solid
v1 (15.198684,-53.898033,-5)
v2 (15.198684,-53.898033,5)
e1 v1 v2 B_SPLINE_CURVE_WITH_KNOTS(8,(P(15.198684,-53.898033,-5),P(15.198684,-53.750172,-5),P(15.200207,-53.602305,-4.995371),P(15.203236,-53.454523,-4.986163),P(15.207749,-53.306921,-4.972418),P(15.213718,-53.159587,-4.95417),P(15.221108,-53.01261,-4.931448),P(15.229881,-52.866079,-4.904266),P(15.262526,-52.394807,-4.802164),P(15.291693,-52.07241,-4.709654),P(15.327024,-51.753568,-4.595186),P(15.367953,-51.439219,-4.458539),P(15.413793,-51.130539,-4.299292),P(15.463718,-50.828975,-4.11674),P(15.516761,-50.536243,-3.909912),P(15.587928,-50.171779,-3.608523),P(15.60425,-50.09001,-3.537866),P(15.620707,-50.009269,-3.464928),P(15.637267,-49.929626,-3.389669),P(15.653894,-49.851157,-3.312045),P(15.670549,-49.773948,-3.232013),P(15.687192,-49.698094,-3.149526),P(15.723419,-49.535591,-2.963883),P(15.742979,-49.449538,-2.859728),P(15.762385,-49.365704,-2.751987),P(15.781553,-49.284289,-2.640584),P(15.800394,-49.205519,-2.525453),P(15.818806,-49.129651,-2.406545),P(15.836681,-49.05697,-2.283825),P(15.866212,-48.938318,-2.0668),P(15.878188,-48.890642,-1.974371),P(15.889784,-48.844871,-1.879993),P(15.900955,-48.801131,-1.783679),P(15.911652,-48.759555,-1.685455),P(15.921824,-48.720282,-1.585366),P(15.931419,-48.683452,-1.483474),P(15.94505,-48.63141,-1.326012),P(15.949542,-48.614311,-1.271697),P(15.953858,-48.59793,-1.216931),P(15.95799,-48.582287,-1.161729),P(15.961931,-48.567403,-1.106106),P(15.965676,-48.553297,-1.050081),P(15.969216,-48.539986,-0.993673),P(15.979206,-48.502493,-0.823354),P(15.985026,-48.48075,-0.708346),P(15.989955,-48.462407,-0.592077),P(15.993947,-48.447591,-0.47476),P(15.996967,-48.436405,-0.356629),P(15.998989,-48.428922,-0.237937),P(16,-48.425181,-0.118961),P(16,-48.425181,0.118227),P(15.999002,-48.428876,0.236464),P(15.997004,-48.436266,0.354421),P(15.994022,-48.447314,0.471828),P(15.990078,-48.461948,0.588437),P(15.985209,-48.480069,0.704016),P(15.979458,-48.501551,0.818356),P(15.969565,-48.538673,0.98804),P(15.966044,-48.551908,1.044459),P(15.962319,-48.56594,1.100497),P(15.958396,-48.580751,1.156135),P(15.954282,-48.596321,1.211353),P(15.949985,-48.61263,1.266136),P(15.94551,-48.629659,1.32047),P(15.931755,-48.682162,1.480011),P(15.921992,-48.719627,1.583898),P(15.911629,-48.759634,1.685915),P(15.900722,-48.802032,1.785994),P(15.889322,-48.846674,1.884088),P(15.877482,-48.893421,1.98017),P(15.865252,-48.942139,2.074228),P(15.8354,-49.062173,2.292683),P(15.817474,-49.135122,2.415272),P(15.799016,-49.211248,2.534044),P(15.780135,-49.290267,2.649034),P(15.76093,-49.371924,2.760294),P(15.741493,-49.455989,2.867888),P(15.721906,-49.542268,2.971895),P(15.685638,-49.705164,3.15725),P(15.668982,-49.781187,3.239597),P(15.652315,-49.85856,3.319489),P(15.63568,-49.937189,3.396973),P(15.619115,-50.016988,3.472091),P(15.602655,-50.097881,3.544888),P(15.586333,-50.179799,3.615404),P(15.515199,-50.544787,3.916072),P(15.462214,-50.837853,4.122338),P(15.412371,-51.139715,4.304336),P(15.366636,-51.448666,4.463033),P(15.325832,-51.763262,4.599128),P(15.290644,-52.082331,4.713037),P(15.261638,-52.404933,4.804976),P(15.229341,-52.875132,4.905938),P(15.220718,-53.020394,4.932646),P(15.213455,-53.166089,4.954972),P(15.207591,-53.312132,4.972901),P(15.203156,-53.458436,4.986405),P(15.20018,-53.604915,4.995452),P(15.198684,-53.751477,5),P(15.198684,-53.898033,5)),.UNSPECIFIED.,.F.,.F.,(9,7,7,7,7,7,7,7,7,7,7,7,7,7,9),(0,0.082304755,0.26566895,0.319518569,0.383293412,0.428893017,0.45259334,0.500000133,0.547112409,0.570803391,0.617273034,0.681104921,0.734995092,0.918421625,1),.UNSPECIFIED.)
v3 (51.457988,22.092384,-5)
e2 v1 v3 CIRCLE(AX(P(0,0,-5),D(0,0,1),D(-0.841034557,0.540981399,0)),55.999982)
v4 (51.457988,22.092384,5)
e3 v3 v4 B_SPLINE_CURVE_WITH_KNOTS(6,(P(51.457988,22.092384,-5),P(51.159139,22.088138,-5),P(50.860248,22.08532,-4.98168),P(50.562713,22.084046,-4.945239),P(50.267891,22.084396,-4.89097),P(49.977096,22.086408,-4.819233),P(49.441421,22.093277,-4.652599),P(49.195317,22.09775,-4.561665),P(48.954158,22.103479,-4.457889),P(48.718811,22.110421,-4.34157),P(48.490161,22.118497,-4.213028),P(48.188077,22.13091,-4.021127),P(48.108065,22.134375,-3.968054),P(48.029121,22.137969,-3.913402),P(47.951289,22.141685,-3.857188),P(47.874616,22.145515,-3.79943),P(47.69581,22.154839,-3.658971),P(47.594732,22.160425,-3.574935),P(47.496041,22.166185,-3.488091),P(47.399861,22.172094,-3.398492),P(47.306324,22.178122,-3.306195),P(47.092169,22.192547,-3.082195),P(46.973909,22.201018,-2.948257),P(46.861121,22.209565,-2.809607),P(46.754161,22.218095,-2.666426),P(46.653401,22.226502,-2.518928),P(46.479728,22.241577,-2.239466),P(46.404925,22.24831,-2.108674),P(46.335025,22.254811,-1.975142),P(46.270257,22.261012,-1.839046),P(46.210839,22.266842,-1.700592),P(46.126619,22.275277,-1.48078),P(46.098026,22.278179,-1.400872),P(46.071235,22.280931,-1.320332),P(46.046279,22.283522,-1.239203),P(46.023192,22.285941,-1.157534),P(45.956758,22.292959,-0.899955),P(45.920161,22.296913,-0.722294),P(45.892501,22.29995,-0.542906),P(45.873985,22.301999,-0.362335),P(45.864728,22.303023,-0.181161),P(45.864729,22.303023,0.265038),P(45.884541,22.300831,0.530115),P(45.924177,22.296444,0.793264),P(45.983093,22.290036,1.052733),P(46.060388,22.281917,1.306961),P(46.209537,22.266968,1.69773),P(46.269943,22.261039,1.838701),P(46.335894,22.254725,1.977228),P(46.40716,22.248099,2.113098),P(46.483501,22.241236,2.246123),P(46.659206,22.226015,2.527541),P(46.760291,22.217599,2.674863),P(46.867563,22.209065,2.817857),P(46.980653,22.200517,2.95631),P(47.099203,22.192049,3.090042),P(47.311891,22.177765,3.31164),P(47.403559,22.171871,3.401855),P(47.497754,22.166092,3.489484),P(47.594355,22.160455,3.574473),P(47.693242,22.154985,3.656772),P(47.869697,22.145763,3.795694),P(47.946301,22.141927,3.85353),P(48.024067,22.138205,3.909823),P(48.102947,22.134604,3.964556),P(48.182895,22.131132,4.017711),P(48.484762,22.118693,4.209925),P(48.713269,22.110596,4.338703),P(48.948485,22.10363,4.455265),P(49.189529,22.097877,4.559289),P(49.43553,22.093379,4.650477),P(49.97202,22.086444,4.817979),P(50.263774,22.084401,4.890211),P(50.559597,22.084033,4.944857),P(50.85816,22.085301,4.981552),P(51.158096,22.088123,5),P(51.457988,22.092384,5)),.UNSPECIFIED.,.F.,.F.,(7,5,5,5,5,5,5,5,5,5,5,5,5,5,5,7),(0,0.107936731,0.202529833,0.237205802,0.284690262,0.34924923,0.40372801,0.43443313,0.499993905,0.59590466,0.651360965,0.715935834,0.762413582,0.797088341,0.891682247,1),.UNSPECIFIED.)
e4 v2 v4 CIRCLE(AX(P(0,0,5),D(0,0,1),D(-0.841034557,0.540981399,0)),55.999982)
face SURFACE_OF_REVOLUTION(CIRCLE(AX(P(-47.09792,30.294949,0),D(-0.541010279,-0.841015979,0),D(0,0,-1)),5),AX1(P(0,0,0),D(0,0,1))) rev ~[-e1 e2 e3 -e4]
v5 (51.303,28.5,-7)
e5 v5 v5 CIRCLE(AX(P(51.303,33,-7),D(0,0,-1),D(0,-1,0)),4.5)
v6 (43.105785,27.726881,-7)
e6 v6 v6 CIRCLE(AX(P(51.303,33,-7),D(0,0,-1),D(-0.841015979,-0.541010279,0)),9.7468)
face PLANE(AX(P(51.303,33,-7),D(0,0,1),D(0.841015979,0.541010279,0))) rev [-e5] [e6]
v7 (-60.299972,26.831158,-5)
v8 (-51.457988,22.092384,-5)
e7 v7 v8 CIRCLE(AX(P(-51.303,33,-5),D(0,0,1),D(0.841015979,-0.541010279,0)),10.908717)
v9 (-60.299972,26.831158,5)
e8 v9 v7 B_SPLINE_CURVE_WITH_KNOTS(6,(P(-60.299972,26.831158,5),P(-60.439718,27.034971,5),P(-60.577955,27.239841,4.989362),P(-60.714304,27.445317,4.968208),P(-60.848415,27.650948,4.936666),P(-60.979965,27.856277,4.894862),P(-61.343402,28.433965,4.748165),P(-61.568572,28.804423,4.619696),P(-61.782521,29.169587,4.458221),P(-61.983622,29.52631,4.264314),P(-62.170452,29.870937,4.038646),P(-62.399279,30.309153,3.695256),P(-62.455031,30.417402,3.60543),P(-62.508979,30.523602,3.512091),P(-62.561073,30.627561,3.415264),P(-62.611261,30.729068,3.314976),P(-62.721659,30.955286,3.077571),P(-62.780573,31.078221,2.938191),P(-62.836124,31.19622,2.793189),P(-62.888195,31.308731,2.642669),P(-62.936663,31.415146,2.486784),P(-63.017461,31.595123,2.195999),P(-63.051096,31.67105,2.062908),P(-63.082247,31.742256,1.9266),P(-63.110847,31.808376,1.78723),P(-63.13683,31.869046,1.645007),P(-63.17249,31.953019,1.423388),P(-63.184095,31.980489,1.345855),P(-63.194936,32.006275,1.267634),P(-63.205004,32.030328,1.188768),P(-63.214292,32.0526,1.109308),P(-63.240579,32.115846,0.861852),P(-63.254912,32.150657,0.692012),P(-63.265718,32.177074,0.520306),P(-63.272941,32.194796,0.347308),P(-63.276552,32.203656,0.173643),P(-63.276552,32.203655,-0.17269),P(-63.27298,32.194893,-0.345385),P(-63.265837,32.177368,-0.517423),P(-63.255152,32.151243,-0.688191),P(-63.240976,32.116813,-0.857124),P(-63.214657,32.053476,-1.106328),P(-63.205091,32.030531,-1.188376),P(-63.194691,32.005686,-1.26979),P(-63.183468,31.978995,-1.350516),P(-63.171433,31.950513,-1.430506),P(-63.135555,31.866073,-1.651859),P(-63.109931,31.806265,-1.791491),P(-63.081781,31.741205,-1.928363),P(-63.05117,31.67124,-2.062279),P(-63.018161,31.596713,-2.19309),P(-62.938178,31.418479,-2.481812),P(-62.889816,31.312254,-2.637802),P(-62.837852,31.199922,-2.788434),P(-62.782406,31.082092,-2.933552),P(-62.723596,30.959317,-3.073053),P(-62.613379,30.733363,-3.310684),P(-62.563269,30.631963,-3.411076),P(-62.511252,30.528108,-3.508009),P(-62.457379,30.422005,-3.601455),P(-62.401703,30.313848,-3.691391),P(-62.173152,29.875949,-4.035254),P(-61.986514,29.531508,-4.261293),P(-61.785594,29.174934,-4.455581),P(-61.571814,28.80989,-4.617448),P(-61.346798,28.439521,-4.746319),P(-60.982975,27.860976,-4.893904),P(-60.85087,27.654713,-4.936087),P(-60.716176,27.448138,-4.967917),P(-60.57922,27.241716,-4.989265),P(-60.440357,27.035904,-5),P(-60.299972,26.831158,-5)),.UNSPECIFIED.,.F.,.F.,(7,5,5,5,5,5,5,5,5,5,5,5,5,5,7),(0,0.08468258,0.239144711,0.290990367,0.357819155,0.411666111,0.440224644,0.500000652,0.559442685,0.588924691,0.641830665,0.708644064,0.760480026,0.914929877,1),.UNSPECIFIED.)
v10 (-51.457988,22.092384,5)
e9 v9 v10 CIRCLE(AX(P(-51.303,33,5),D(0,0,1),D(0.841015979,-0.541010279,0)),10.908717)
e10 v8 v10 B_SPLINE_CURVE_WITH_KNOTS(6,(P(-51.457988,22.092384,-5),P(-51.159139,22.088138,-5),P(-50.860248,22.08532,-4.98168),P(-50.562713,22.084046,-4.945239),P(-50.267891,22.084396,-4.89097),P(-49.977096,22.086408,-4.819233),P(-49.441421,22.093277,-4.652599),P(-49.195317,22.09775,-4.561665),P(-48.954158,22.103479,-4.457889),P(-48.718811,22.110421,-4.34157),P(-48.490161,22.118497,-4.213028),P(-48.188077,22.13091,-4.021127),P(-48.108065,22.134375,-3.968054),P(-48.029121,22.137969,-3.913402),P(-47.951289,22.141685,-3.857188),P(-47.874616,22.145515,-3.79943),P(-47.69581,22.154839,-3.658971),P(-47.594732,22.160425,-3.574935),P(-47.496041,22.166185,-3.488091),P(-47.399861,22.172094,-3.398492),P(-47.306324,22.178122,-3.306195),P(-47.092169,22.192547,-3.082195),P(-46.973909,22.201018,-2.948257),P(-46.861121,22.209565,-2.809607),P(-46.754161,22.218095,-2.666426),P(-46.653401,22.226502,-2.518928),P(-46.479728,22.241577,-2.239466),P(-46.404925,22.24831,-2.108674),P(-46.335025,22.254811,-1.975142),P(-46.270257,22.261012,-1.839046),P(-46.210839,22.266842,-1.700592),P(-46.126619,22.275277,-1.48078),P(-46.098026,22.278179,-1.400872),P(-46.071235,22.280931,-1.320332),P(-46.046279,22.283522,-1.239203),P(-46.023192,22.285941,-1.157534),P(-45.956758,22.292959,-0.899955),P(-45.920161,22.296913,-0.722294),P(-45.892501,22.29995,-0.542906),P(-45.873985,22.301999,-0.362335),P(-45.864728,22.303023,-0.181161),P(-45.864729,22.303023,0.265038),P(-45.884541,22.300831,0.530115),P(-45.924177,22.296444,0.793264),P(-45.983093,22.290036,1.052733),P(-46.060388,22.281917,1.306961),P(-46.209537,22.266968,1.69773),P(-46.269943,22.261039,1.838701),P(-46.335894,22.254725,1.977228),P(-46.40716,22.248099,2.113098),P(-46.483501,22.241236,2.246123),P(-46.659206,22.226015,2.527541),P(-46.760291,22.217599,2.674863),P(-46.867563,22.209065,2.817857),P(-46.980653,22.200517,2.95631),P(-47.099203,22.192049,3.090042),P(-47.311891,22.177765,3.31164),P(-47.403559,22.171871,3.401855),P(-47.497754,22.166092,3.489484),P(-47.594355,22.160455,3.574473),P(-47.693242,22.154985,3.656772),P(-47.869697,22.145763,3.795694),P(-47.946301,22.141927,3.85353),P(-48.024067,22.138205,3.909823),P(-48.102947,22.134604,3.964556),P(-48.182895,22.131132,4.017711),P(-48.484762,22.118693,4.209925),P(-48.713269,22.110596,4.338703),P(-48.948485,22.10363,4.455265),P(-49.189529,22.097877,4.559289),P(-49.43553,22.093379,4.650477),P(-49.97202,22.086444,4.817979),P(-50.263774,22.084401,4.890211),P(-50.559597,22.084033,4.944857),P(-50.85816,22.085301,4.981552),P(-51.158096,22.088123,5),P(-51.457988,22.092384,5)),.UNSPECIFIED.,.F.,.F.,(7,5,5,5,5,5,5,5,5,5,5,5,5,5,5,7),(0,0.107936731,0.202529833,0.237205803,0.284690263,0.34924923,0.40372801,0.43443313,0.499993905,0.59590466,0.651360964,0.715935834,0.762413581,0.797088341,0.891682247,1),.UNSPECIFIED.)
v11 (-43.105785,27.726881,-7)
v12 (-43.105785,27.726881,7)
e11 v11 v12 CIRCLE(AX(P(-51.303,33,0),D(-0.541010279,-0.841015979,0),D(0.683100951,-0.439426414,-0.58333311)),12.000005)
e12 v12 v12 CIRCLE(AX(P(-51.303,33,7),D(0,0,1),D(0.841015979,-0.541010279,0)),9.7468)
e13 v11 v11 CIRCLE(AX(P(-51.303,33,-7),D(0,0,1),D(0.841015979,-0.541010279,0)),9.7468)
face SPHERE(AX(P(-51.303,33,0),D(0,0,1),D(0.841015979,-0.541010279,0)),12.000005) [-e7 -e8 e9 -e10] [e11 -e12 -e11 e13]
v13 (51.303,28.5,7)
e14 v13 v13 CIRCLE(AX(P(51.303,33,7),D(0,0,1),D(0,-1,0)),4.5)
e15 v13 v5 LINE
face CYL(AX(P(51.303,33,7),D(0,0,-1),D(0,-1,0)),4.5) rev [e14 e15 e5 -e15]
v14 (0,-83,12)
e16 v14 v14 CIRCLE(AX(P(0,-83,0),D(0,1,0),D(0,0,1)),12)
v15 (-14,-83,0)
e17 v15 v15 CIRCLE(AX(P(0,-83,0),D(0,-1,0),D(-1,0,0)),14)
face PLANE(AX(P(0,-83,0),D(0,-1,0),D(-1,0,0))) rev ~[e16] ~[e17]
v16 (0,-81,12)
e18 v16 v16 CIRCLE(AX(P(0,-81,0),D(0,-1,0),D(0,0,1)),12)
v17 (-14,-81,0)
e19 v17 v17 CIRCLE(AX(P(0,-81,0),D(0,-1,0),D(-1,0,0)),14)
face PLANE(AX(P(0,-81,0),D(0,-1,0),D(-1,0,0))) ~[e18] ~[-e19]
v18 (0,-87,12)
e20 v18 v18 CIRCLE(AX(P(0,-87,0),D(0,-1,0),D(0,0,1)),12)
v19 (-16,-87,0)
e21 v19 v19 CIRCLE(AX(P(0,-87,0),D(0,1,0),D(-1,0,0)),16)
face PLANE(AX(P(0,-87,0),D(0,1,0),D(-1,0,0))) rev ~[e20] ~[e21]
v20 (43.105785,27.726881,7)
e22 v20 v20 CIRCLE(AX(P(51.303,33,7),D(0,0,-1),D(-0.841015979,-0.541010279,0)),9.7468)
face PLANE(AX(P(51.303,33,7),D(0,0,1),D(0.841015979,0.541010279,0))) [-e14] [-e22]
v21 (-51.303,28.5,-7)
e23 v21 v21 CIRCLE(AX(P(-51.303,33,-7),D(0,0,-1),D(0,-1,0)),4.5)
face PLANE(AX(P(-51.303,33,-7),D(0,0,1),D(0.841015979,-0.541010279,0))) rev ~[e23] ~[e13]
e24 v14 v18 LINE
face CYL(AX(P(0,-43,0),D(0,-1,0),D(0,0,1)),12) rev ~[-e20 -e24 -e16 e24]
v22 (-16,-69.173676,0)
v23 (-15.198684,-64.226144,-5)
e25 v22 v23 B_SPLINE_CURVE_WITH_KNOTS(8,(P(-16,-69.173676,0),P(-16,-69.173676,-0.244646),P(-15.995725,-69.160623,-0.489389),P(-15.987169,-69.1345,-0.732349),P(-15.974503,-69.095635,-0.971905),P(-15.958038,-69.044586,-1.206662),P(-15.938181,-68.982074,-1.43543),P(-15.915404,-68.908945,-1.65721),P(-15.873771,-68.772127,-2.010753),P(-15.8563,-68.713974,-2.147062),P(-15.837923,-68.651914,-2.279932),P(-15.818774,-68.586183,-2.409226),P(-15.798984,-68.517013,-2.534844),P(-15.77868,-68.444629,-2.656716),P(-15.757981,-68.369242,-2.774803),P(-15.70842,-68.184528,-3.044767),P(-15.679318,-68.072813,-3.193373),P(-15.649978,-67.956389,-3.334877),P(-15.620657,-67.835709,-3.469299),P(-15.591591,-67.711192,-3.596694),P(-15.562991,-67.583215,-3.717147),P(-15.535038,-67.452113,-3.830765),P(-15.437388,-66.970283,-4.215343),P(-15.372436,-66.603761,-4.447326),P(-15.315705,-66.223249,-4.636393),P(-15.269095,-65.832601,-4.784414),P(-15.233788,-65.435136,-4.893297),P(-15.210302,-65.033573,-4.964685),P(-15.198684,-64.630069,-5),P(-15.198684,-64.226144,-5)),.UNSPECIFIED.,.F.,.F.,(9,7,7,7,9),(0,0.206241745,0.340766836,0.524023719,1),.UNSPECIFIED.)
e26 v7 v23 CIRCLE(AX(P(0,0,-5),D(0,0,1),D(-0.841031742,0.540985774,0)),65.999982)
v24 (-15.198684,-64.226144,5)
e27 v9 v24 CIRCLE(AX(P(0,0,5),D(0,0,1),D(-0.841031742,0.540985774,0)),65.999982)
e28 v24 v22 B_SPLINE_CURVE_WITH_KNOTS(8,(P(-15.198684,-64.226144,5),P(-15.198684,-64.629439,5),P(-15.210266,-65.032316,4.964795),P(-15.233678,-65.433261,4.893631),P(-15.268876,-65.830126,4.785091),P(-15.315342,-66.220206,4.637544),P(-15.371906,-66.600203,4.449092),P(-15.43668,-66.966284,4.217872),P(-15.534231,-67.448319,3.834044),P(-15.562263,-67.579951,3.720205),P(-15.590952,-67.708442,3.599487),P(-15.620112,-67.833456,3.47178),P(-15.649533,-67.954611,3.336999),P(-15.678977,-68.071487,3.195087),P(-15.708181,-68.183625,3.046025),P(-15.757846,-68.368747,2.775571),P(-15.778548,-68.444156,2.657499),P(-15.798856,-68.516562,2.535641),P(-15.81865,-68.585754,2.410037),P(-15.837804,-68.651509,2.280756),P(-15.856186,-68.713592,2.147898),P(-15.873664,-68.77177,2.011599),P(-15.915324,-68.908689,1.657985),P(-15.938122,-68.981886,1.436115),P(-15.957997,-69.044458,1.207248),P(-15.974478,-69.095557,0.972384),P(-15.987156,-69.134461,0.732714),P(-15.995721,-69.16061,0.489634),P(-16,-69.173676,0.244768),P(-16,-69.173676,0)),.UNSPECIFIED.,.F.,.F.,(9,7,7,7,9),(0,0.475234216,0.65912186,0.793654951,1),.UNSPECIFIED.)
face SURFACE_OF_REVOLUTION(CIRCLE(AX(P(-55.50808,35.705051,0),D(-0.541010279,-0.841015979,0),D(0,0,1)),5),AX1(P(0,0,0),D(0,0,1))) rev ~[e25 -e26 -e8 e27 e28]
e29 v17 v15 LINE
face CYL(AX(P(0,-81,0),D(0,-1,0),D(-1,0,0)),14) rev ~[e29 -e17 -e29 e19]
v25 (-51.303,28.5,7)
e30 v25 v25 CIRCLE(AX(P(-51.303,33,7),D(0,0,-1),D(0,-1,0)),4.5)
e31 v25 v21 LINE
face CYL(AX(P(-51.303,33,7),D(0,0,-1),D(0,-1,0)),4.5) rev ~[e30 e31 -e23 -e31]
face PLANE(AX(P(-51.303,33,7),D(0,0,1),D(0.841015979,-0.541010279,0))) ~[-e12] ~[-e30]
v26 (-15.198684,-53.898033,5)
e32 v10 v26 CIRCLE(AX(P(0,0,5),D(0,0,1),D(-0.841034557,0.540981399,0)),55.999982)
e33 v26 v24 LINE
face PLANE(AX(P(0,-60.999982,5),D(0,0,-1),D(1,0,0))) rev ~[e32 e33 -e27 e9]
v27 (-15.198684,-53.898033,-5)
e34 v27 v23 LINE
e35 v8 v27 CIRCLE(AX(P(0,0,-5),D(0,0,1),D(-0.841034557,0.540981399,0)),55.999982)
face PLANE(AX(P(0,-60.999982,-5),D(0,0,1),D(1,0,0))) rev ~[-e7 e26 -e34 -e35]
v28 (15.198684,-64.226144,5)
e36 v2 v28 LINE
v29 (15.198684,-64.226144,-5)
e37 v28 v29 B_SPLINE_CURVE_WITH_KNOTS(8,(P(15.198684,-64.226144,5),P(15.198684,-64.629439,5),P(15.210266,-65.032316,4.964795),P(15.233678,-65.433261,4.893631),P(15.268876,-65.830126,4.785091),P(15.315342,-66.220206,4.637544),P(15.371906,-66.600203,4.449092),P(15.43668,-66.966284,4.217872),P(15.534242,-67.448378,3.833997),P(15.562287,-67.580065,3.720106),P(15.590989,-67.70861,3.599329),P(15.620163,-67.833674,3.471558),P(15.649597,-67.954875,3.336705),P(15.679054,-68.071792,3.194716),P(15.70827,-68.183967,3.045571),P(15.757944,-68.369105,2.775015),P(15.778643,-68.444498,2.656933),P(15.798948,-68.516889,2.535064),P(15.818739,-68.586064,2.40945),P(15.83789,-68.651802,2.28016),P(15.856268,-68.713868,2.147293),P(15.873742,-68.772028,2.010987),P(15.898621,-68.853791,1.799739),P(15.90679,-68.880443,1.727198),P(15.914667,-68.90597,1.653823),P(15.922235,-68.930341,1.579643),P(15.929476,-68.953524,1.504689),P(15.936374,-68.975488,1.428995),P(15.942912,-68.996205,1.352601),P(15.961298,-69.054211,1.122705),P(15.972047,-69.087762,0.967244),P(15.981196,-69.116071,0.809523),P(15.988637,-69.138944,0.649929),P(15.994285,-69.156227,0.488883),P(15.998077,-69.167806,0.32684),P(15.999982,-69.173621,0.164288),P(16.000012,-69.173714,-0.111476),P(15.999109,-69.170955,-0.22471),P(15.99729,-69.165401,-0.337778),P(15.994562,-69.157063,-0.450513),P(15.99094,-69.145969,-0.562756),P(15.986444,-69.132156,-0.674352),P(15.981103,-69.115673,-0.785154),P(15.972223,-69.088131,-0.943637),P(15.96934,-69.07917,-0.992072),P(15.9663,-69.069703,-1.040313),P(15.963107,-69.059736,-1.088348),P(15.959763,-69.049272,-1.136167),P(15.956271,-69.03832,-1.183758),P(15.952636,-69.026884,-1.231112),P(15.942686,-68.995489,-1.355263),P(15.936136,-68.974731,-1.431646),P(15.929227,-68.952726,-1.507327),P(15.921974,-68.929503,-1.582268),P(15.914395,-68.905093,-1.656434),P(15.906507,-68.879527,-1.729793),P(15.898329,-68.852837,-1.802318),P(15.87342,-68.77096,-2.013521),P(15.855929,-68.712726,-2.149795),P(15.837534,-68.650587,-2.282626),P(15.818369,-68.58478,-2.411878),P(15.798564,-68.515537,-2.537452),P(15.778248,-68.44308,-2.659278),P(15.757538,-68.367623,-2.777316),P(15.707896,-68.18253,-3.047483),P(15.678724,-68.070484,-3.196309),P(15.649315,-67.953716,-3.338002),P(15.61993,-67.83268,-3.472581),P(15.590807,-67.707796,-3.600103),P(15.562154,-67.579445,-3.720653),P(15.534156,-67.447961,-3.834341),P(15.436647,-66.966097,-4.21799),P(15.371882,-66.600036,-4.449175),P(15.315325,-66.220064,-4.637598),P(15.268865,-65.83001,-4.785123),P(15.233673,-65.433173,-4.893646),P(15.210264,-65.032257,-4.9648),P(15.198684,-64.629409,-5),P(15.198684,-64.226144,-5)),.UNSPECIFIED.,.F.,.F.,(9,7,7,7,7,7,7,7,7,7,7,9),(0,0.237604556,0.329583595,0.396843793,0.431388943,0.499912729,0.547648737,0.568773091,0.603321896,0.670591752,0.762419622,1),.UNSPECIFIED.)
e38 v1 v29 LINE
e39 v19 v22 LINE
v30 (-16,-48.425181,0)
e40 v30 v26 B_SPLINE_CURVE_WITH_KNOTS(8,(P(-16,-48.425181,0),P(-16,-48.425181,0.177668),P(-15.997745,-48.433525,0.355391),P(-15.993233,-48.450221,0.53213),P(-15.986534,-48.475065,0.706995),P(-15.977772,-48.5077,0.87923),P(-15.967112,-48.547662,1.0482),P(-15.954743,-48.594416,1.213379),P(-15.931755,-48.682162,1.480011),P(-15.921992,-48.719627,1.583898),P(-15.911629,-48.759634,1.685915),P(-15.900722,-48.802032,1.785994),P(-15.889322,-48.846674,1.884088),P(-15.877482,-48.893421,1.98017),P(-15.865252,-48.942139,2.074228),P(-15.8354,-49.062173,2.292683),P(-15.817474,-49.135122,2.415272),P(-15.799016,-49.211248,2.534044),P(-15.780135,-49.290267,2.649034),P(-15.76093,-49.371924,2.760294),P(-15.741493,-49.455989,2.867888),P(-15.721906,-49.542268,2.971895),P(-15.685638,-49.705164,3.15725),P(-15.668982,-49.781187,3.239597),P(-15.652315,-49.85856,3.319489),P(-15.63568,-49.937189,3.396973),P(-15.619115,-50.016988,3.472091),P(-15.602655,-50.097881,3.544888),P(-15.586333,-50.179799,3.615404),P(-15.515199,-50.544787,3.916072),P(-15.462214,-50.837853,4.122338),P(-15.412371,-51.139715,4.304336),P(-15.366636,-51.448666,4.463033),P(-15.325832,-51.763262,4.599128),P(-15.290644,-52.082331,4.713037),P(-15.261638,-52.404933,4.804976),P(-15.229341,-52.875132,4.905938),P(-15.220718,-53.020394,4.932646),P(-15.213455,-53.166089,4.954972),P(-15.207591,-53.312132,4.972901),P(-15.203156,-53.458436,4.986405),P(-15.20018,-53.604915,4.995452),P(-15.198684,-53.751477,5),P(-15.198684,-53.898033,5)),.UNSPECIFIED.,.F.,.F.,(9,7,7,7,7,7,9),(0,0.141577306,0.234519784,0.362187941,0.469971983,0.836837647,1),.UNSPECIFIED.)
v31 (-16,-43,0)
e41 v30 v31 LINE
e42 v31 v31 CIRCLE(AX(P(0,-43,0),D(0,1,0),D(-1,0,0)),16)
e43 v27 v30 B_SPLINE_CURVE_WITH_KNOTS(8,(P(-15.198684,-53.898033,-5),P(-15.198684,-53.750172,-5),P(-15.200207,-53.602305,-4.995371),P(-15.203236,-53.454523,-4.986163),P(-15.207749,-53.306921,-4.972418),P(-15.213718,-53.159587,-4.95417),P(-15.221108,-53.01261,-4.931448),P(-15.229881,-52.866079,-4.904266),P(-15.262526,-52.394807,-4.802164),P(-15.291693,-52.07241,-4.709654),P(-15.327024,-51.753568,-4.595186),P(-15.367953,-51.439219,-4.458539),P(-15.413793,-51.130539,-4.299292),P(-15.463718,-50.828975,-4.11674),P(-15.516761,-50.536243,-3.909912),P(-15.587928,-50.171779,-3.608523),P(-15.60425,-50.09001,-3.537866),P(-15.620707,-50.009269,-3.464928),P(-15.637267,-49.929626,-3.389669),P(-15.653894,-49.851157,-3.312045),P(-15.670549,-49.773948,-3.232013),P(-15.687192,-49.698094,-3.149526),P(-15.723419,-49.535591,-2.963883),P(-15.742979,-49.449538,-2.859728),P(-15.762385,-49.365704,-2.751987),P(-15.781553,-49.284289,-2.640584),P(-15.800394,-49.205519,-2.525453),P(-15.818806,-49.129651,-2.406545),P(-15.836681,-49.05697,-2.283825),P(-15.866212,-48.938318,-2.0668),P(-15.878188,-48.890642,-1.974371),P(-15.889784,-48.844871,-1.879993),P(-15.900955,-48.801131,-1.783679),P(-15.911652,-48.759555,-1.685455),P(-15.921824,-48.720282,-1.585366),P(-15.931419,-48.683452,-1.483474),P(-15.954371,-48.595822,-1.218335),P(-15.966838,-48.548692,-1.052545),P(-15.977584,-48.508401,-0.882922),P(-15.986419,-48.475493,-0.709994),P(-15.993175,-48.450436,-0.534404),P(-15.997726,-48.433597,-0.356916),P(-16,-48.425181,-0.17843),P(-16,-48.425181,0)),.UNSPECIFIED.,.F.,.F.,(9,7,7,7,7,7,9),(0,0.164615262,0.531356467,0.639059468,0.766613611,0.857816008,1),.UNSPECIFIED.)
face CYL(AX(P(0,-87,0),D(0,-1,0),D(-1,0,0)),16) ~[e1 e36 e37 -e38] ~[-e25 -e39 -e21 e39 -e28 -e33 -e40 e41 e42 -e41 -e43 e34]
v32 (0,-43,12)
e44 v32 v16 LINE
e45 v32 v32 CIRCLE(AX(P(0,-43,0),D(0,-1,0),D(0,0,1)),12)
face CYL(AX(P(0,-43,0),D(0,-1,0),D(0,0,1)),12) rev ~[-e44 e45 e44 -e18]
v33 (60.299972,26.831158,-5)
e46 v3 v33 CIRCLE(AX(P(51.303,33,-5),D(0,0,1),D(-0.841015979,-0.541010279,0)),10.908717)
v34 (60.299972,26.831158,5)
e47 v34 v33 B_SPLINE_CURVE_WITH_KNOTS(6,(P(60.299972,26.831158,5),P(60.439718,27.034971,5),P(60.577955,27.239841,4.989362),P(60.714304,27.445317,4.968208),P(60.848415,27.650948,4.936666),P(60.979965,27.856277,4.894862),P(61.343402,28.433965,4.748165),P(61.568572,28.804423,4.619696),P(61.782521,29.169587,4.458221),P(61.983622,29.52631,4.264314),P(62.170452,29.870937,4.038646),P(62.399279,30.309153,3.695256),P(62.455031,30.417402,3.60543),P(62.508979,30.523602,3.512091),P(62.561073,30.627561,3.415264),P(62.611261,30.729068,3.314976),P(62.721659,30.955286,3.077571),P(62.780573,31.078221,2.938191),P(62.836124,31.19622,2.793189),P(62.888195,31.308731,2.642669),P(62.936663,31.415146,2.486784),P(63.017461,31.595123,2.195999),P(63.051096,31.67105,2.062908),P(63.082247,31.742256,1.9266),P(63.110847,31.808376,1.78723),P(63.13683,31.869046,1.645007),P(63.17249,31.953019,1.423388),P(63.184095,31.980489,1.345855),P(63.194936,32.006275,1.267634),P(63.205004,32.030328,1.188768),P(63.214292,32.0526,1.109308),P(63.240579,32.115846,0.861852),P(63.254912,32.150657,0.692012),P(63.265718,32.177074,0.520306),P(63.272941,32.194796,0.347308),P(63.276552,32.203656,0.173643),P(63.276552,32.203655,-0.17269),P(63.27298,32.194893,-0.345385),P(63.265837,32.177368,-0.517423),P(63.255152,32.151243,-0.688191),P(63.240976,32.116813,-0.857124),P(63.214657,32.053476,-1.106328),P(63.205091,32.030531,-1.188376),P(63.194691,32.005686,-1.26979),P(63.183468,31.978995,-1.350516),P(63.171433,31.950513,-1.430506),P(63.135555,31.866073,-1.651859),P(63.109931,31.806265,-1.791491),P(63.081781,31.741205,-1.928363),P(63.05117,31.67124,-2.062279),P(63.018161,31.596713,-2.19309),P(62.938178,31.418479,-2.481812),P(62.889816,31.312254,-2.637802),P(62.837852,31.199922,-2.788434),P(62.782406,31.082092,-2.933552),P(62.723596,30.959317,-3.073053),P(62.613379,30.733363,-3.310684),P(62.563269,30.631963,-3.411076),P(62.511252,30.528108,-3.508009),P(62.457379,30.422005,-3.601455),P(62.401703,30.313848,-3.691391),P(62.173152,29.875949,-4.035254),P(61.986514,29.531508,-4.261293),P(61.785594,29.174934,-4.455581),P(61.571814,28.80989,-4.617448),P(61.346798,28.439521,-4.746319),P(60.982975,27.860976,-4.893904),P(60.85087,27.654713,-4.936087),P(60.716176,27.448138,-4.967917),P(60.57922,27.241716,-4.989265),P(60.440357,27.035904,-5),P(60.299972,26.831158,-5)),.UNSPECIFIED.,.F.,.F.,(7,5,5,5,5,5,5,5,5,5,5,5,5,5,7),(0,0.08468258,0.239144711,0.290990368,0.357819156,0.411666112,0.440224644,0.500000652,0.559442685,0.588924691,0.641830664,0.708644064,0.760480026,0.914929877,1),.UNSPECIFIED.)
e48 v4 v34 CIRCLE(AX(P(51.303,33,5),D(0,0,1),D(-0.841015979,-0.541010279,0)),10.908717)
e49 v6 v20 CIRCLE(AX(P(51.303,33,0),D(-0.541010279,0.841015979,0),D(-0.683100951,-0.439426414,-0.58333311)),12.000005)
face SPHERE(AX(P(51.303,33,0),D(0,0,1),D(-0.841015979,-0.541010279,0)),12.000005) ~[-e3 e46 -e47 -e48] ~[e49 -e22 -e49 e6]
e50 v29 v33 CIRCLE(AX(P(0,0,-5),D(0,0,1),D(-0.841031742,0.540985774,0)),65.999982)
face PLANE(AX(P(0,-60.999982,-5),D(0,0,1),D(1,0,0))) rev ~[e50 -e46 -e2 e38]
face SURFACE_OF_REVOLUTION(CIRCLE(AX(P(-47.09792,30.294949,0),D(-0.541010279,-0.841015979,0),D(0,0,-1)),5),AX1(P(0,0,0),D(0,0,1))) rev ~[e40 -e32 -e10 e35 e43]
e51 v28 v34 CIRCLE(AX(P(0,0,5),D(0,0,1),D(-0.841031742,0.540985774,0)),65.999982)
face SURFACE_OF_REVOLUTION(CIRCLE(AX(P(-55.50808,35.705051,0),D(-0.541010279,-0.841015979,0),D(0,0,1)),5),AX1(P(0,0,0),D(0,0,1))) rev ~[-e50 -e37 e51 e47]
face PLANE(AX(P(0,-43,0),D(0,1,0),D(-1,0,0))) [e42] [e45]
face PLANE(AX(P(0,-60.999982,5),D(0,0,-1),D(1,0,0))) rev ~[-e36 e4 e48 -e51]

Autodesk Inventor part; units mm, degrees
ref_plane "YZ Plane" through (0, 0, 0) normal (1, 0, 0) x (0, 1, 0)
sketch "Sketch1" plane through (0, 0, 0) normal (0, 0, 1) x (1, 0, 0)
  arc A0 (-51.303, 33) -> (51.303, 33) centre (0, 0) ccw
  line L0 (-51.303, 33) -> (51.303, 33) construction
  dimension "d0" = 122
  dimension "d1" = 33
ref_plane "Work Plane1" through (-51.303, 33, 0) normal (-0.541, -0.841, 0) x (0.841, -0.541, 0)
sketch "Sketch2" plane through (-51.303, 33, 0) normal (-0.541, -0.841, 0) x (0.841, -0.541, 0)
  line L0 (-5, 0) -> (5, 0) construction
  line L1 (-5, 5) -> (5, 5)
  line L2 (5, -5) -> (-5, -5)
  arc A0 (-5, 5) -> (-5, -5) centre (-5, 0) ccw
  arc A1 (5, -5) -> (5, 5) centre (5, 0) ccw
  point P0 (61, 0)
  point P1 (0, 0)
  point P2 (0, 0)
  dimension "d2" = 10
  dimension "d3" = 5
sweep "Sweep1" add profiles "Sketch2" path "Sketch1"
sketch "Sketch3" plane through (-51.303, 33, 0) normal (-0.541, -0.841, 0) x (0.841, -0.541, 0)
  line L0 (0, 7) -> (9.7468, 7)
  line L1 (9.7468, -7) -> (0, -7)
  line L2 (0, -7) -> (0, 7)
  arc A0 (9.7468, -7) -> (9.7468, 7) centre (0, 0) ccw
  line L3 (5, 5) -> (-5, 5) construction
  arc A1 (5, -5) -> (5, 5) centre (5, 0) ccw construction
  line L4 (-5, -5) -> (5, -5) construction
  arc A2 (-5, 5) -> (-5, -5) centre (-5, 0) ccw construction
  line L5 (-5, -5) -> (5, -5) projected
  point P0 (61, 0)
  point P1 (0, -5)
  dimension "d6" = 14
  dimension "d7" = 12
revolve "Revolution1" add sketch "Sketch3" angle 360 about axis through (-51.303, 33, -7) along (0, 0, 1)
sketch "Sketch4" plane through (-51.303, 33, 7) normal (0, 0, 1) x (1, 0, 0)
  circle A0 centre (0, 0) radius 9.7468 projected
  point P0 (51.303, -33)
hole "Hole1" at (-51.303, 33, 7) direction (0, 0, -1) diameter 9 end through all
mirror "Mirror1" about plane through (0, 0, 0) normal (1, 0, 0) of "Revolution1", "Hole1"
ref_plane "Work Plane2" through (0, -87, 0) normal (0, 1, 0) x (-1, 0, 0)
sketch "Sketch5" plane through (0, -87, 0) normal (0, 1, 0) x (-1, 0, 0)
  circle A0 centre (0, 0) radius 16
  dimension "d17" = 32
extrude "Extrusion1" add sketch "Sketch5" along normal blind 44
sketch "Sketch6" plane through (0, -43, 0) normal (0, 1, 0) x (1, 0, 0)
  circle A0 centre (0, 0) radius 16 projected
hole "Hole2" at (0, -43, 0) direction (0, -1, 0) diameter 24 end through all
sketch "Sketch7" plane through (0, 0, 0) normal (0, 0, 1) x (1, 0, 0)
  line L0 (-12, -87) -> (-12, -43) construction
  line L1 (0, -113.4) -> (0, 71.4) projected
  line L2 (-12, -81) -> (-14, -81)
  line L3 (-14, -81) -> (-14, -83)
  line L4 (-14, -83) -> (-12, -83)
  line L5 (-12, -83) -> (-12, -81)
  line L6 (16, -87) -> (-16, -87) construction
  point P0 (0, 0)
  dimension "d27" = 2
  dimension "d28" = 28
  dimension "d29" = 6
revolve "Revolution2" cut sketch "Sketch7" angle 360 about axis through (0, -10, 0) along (0, -1, 0)
properties part number "Part001.Fork" material "Stainless Steel"
